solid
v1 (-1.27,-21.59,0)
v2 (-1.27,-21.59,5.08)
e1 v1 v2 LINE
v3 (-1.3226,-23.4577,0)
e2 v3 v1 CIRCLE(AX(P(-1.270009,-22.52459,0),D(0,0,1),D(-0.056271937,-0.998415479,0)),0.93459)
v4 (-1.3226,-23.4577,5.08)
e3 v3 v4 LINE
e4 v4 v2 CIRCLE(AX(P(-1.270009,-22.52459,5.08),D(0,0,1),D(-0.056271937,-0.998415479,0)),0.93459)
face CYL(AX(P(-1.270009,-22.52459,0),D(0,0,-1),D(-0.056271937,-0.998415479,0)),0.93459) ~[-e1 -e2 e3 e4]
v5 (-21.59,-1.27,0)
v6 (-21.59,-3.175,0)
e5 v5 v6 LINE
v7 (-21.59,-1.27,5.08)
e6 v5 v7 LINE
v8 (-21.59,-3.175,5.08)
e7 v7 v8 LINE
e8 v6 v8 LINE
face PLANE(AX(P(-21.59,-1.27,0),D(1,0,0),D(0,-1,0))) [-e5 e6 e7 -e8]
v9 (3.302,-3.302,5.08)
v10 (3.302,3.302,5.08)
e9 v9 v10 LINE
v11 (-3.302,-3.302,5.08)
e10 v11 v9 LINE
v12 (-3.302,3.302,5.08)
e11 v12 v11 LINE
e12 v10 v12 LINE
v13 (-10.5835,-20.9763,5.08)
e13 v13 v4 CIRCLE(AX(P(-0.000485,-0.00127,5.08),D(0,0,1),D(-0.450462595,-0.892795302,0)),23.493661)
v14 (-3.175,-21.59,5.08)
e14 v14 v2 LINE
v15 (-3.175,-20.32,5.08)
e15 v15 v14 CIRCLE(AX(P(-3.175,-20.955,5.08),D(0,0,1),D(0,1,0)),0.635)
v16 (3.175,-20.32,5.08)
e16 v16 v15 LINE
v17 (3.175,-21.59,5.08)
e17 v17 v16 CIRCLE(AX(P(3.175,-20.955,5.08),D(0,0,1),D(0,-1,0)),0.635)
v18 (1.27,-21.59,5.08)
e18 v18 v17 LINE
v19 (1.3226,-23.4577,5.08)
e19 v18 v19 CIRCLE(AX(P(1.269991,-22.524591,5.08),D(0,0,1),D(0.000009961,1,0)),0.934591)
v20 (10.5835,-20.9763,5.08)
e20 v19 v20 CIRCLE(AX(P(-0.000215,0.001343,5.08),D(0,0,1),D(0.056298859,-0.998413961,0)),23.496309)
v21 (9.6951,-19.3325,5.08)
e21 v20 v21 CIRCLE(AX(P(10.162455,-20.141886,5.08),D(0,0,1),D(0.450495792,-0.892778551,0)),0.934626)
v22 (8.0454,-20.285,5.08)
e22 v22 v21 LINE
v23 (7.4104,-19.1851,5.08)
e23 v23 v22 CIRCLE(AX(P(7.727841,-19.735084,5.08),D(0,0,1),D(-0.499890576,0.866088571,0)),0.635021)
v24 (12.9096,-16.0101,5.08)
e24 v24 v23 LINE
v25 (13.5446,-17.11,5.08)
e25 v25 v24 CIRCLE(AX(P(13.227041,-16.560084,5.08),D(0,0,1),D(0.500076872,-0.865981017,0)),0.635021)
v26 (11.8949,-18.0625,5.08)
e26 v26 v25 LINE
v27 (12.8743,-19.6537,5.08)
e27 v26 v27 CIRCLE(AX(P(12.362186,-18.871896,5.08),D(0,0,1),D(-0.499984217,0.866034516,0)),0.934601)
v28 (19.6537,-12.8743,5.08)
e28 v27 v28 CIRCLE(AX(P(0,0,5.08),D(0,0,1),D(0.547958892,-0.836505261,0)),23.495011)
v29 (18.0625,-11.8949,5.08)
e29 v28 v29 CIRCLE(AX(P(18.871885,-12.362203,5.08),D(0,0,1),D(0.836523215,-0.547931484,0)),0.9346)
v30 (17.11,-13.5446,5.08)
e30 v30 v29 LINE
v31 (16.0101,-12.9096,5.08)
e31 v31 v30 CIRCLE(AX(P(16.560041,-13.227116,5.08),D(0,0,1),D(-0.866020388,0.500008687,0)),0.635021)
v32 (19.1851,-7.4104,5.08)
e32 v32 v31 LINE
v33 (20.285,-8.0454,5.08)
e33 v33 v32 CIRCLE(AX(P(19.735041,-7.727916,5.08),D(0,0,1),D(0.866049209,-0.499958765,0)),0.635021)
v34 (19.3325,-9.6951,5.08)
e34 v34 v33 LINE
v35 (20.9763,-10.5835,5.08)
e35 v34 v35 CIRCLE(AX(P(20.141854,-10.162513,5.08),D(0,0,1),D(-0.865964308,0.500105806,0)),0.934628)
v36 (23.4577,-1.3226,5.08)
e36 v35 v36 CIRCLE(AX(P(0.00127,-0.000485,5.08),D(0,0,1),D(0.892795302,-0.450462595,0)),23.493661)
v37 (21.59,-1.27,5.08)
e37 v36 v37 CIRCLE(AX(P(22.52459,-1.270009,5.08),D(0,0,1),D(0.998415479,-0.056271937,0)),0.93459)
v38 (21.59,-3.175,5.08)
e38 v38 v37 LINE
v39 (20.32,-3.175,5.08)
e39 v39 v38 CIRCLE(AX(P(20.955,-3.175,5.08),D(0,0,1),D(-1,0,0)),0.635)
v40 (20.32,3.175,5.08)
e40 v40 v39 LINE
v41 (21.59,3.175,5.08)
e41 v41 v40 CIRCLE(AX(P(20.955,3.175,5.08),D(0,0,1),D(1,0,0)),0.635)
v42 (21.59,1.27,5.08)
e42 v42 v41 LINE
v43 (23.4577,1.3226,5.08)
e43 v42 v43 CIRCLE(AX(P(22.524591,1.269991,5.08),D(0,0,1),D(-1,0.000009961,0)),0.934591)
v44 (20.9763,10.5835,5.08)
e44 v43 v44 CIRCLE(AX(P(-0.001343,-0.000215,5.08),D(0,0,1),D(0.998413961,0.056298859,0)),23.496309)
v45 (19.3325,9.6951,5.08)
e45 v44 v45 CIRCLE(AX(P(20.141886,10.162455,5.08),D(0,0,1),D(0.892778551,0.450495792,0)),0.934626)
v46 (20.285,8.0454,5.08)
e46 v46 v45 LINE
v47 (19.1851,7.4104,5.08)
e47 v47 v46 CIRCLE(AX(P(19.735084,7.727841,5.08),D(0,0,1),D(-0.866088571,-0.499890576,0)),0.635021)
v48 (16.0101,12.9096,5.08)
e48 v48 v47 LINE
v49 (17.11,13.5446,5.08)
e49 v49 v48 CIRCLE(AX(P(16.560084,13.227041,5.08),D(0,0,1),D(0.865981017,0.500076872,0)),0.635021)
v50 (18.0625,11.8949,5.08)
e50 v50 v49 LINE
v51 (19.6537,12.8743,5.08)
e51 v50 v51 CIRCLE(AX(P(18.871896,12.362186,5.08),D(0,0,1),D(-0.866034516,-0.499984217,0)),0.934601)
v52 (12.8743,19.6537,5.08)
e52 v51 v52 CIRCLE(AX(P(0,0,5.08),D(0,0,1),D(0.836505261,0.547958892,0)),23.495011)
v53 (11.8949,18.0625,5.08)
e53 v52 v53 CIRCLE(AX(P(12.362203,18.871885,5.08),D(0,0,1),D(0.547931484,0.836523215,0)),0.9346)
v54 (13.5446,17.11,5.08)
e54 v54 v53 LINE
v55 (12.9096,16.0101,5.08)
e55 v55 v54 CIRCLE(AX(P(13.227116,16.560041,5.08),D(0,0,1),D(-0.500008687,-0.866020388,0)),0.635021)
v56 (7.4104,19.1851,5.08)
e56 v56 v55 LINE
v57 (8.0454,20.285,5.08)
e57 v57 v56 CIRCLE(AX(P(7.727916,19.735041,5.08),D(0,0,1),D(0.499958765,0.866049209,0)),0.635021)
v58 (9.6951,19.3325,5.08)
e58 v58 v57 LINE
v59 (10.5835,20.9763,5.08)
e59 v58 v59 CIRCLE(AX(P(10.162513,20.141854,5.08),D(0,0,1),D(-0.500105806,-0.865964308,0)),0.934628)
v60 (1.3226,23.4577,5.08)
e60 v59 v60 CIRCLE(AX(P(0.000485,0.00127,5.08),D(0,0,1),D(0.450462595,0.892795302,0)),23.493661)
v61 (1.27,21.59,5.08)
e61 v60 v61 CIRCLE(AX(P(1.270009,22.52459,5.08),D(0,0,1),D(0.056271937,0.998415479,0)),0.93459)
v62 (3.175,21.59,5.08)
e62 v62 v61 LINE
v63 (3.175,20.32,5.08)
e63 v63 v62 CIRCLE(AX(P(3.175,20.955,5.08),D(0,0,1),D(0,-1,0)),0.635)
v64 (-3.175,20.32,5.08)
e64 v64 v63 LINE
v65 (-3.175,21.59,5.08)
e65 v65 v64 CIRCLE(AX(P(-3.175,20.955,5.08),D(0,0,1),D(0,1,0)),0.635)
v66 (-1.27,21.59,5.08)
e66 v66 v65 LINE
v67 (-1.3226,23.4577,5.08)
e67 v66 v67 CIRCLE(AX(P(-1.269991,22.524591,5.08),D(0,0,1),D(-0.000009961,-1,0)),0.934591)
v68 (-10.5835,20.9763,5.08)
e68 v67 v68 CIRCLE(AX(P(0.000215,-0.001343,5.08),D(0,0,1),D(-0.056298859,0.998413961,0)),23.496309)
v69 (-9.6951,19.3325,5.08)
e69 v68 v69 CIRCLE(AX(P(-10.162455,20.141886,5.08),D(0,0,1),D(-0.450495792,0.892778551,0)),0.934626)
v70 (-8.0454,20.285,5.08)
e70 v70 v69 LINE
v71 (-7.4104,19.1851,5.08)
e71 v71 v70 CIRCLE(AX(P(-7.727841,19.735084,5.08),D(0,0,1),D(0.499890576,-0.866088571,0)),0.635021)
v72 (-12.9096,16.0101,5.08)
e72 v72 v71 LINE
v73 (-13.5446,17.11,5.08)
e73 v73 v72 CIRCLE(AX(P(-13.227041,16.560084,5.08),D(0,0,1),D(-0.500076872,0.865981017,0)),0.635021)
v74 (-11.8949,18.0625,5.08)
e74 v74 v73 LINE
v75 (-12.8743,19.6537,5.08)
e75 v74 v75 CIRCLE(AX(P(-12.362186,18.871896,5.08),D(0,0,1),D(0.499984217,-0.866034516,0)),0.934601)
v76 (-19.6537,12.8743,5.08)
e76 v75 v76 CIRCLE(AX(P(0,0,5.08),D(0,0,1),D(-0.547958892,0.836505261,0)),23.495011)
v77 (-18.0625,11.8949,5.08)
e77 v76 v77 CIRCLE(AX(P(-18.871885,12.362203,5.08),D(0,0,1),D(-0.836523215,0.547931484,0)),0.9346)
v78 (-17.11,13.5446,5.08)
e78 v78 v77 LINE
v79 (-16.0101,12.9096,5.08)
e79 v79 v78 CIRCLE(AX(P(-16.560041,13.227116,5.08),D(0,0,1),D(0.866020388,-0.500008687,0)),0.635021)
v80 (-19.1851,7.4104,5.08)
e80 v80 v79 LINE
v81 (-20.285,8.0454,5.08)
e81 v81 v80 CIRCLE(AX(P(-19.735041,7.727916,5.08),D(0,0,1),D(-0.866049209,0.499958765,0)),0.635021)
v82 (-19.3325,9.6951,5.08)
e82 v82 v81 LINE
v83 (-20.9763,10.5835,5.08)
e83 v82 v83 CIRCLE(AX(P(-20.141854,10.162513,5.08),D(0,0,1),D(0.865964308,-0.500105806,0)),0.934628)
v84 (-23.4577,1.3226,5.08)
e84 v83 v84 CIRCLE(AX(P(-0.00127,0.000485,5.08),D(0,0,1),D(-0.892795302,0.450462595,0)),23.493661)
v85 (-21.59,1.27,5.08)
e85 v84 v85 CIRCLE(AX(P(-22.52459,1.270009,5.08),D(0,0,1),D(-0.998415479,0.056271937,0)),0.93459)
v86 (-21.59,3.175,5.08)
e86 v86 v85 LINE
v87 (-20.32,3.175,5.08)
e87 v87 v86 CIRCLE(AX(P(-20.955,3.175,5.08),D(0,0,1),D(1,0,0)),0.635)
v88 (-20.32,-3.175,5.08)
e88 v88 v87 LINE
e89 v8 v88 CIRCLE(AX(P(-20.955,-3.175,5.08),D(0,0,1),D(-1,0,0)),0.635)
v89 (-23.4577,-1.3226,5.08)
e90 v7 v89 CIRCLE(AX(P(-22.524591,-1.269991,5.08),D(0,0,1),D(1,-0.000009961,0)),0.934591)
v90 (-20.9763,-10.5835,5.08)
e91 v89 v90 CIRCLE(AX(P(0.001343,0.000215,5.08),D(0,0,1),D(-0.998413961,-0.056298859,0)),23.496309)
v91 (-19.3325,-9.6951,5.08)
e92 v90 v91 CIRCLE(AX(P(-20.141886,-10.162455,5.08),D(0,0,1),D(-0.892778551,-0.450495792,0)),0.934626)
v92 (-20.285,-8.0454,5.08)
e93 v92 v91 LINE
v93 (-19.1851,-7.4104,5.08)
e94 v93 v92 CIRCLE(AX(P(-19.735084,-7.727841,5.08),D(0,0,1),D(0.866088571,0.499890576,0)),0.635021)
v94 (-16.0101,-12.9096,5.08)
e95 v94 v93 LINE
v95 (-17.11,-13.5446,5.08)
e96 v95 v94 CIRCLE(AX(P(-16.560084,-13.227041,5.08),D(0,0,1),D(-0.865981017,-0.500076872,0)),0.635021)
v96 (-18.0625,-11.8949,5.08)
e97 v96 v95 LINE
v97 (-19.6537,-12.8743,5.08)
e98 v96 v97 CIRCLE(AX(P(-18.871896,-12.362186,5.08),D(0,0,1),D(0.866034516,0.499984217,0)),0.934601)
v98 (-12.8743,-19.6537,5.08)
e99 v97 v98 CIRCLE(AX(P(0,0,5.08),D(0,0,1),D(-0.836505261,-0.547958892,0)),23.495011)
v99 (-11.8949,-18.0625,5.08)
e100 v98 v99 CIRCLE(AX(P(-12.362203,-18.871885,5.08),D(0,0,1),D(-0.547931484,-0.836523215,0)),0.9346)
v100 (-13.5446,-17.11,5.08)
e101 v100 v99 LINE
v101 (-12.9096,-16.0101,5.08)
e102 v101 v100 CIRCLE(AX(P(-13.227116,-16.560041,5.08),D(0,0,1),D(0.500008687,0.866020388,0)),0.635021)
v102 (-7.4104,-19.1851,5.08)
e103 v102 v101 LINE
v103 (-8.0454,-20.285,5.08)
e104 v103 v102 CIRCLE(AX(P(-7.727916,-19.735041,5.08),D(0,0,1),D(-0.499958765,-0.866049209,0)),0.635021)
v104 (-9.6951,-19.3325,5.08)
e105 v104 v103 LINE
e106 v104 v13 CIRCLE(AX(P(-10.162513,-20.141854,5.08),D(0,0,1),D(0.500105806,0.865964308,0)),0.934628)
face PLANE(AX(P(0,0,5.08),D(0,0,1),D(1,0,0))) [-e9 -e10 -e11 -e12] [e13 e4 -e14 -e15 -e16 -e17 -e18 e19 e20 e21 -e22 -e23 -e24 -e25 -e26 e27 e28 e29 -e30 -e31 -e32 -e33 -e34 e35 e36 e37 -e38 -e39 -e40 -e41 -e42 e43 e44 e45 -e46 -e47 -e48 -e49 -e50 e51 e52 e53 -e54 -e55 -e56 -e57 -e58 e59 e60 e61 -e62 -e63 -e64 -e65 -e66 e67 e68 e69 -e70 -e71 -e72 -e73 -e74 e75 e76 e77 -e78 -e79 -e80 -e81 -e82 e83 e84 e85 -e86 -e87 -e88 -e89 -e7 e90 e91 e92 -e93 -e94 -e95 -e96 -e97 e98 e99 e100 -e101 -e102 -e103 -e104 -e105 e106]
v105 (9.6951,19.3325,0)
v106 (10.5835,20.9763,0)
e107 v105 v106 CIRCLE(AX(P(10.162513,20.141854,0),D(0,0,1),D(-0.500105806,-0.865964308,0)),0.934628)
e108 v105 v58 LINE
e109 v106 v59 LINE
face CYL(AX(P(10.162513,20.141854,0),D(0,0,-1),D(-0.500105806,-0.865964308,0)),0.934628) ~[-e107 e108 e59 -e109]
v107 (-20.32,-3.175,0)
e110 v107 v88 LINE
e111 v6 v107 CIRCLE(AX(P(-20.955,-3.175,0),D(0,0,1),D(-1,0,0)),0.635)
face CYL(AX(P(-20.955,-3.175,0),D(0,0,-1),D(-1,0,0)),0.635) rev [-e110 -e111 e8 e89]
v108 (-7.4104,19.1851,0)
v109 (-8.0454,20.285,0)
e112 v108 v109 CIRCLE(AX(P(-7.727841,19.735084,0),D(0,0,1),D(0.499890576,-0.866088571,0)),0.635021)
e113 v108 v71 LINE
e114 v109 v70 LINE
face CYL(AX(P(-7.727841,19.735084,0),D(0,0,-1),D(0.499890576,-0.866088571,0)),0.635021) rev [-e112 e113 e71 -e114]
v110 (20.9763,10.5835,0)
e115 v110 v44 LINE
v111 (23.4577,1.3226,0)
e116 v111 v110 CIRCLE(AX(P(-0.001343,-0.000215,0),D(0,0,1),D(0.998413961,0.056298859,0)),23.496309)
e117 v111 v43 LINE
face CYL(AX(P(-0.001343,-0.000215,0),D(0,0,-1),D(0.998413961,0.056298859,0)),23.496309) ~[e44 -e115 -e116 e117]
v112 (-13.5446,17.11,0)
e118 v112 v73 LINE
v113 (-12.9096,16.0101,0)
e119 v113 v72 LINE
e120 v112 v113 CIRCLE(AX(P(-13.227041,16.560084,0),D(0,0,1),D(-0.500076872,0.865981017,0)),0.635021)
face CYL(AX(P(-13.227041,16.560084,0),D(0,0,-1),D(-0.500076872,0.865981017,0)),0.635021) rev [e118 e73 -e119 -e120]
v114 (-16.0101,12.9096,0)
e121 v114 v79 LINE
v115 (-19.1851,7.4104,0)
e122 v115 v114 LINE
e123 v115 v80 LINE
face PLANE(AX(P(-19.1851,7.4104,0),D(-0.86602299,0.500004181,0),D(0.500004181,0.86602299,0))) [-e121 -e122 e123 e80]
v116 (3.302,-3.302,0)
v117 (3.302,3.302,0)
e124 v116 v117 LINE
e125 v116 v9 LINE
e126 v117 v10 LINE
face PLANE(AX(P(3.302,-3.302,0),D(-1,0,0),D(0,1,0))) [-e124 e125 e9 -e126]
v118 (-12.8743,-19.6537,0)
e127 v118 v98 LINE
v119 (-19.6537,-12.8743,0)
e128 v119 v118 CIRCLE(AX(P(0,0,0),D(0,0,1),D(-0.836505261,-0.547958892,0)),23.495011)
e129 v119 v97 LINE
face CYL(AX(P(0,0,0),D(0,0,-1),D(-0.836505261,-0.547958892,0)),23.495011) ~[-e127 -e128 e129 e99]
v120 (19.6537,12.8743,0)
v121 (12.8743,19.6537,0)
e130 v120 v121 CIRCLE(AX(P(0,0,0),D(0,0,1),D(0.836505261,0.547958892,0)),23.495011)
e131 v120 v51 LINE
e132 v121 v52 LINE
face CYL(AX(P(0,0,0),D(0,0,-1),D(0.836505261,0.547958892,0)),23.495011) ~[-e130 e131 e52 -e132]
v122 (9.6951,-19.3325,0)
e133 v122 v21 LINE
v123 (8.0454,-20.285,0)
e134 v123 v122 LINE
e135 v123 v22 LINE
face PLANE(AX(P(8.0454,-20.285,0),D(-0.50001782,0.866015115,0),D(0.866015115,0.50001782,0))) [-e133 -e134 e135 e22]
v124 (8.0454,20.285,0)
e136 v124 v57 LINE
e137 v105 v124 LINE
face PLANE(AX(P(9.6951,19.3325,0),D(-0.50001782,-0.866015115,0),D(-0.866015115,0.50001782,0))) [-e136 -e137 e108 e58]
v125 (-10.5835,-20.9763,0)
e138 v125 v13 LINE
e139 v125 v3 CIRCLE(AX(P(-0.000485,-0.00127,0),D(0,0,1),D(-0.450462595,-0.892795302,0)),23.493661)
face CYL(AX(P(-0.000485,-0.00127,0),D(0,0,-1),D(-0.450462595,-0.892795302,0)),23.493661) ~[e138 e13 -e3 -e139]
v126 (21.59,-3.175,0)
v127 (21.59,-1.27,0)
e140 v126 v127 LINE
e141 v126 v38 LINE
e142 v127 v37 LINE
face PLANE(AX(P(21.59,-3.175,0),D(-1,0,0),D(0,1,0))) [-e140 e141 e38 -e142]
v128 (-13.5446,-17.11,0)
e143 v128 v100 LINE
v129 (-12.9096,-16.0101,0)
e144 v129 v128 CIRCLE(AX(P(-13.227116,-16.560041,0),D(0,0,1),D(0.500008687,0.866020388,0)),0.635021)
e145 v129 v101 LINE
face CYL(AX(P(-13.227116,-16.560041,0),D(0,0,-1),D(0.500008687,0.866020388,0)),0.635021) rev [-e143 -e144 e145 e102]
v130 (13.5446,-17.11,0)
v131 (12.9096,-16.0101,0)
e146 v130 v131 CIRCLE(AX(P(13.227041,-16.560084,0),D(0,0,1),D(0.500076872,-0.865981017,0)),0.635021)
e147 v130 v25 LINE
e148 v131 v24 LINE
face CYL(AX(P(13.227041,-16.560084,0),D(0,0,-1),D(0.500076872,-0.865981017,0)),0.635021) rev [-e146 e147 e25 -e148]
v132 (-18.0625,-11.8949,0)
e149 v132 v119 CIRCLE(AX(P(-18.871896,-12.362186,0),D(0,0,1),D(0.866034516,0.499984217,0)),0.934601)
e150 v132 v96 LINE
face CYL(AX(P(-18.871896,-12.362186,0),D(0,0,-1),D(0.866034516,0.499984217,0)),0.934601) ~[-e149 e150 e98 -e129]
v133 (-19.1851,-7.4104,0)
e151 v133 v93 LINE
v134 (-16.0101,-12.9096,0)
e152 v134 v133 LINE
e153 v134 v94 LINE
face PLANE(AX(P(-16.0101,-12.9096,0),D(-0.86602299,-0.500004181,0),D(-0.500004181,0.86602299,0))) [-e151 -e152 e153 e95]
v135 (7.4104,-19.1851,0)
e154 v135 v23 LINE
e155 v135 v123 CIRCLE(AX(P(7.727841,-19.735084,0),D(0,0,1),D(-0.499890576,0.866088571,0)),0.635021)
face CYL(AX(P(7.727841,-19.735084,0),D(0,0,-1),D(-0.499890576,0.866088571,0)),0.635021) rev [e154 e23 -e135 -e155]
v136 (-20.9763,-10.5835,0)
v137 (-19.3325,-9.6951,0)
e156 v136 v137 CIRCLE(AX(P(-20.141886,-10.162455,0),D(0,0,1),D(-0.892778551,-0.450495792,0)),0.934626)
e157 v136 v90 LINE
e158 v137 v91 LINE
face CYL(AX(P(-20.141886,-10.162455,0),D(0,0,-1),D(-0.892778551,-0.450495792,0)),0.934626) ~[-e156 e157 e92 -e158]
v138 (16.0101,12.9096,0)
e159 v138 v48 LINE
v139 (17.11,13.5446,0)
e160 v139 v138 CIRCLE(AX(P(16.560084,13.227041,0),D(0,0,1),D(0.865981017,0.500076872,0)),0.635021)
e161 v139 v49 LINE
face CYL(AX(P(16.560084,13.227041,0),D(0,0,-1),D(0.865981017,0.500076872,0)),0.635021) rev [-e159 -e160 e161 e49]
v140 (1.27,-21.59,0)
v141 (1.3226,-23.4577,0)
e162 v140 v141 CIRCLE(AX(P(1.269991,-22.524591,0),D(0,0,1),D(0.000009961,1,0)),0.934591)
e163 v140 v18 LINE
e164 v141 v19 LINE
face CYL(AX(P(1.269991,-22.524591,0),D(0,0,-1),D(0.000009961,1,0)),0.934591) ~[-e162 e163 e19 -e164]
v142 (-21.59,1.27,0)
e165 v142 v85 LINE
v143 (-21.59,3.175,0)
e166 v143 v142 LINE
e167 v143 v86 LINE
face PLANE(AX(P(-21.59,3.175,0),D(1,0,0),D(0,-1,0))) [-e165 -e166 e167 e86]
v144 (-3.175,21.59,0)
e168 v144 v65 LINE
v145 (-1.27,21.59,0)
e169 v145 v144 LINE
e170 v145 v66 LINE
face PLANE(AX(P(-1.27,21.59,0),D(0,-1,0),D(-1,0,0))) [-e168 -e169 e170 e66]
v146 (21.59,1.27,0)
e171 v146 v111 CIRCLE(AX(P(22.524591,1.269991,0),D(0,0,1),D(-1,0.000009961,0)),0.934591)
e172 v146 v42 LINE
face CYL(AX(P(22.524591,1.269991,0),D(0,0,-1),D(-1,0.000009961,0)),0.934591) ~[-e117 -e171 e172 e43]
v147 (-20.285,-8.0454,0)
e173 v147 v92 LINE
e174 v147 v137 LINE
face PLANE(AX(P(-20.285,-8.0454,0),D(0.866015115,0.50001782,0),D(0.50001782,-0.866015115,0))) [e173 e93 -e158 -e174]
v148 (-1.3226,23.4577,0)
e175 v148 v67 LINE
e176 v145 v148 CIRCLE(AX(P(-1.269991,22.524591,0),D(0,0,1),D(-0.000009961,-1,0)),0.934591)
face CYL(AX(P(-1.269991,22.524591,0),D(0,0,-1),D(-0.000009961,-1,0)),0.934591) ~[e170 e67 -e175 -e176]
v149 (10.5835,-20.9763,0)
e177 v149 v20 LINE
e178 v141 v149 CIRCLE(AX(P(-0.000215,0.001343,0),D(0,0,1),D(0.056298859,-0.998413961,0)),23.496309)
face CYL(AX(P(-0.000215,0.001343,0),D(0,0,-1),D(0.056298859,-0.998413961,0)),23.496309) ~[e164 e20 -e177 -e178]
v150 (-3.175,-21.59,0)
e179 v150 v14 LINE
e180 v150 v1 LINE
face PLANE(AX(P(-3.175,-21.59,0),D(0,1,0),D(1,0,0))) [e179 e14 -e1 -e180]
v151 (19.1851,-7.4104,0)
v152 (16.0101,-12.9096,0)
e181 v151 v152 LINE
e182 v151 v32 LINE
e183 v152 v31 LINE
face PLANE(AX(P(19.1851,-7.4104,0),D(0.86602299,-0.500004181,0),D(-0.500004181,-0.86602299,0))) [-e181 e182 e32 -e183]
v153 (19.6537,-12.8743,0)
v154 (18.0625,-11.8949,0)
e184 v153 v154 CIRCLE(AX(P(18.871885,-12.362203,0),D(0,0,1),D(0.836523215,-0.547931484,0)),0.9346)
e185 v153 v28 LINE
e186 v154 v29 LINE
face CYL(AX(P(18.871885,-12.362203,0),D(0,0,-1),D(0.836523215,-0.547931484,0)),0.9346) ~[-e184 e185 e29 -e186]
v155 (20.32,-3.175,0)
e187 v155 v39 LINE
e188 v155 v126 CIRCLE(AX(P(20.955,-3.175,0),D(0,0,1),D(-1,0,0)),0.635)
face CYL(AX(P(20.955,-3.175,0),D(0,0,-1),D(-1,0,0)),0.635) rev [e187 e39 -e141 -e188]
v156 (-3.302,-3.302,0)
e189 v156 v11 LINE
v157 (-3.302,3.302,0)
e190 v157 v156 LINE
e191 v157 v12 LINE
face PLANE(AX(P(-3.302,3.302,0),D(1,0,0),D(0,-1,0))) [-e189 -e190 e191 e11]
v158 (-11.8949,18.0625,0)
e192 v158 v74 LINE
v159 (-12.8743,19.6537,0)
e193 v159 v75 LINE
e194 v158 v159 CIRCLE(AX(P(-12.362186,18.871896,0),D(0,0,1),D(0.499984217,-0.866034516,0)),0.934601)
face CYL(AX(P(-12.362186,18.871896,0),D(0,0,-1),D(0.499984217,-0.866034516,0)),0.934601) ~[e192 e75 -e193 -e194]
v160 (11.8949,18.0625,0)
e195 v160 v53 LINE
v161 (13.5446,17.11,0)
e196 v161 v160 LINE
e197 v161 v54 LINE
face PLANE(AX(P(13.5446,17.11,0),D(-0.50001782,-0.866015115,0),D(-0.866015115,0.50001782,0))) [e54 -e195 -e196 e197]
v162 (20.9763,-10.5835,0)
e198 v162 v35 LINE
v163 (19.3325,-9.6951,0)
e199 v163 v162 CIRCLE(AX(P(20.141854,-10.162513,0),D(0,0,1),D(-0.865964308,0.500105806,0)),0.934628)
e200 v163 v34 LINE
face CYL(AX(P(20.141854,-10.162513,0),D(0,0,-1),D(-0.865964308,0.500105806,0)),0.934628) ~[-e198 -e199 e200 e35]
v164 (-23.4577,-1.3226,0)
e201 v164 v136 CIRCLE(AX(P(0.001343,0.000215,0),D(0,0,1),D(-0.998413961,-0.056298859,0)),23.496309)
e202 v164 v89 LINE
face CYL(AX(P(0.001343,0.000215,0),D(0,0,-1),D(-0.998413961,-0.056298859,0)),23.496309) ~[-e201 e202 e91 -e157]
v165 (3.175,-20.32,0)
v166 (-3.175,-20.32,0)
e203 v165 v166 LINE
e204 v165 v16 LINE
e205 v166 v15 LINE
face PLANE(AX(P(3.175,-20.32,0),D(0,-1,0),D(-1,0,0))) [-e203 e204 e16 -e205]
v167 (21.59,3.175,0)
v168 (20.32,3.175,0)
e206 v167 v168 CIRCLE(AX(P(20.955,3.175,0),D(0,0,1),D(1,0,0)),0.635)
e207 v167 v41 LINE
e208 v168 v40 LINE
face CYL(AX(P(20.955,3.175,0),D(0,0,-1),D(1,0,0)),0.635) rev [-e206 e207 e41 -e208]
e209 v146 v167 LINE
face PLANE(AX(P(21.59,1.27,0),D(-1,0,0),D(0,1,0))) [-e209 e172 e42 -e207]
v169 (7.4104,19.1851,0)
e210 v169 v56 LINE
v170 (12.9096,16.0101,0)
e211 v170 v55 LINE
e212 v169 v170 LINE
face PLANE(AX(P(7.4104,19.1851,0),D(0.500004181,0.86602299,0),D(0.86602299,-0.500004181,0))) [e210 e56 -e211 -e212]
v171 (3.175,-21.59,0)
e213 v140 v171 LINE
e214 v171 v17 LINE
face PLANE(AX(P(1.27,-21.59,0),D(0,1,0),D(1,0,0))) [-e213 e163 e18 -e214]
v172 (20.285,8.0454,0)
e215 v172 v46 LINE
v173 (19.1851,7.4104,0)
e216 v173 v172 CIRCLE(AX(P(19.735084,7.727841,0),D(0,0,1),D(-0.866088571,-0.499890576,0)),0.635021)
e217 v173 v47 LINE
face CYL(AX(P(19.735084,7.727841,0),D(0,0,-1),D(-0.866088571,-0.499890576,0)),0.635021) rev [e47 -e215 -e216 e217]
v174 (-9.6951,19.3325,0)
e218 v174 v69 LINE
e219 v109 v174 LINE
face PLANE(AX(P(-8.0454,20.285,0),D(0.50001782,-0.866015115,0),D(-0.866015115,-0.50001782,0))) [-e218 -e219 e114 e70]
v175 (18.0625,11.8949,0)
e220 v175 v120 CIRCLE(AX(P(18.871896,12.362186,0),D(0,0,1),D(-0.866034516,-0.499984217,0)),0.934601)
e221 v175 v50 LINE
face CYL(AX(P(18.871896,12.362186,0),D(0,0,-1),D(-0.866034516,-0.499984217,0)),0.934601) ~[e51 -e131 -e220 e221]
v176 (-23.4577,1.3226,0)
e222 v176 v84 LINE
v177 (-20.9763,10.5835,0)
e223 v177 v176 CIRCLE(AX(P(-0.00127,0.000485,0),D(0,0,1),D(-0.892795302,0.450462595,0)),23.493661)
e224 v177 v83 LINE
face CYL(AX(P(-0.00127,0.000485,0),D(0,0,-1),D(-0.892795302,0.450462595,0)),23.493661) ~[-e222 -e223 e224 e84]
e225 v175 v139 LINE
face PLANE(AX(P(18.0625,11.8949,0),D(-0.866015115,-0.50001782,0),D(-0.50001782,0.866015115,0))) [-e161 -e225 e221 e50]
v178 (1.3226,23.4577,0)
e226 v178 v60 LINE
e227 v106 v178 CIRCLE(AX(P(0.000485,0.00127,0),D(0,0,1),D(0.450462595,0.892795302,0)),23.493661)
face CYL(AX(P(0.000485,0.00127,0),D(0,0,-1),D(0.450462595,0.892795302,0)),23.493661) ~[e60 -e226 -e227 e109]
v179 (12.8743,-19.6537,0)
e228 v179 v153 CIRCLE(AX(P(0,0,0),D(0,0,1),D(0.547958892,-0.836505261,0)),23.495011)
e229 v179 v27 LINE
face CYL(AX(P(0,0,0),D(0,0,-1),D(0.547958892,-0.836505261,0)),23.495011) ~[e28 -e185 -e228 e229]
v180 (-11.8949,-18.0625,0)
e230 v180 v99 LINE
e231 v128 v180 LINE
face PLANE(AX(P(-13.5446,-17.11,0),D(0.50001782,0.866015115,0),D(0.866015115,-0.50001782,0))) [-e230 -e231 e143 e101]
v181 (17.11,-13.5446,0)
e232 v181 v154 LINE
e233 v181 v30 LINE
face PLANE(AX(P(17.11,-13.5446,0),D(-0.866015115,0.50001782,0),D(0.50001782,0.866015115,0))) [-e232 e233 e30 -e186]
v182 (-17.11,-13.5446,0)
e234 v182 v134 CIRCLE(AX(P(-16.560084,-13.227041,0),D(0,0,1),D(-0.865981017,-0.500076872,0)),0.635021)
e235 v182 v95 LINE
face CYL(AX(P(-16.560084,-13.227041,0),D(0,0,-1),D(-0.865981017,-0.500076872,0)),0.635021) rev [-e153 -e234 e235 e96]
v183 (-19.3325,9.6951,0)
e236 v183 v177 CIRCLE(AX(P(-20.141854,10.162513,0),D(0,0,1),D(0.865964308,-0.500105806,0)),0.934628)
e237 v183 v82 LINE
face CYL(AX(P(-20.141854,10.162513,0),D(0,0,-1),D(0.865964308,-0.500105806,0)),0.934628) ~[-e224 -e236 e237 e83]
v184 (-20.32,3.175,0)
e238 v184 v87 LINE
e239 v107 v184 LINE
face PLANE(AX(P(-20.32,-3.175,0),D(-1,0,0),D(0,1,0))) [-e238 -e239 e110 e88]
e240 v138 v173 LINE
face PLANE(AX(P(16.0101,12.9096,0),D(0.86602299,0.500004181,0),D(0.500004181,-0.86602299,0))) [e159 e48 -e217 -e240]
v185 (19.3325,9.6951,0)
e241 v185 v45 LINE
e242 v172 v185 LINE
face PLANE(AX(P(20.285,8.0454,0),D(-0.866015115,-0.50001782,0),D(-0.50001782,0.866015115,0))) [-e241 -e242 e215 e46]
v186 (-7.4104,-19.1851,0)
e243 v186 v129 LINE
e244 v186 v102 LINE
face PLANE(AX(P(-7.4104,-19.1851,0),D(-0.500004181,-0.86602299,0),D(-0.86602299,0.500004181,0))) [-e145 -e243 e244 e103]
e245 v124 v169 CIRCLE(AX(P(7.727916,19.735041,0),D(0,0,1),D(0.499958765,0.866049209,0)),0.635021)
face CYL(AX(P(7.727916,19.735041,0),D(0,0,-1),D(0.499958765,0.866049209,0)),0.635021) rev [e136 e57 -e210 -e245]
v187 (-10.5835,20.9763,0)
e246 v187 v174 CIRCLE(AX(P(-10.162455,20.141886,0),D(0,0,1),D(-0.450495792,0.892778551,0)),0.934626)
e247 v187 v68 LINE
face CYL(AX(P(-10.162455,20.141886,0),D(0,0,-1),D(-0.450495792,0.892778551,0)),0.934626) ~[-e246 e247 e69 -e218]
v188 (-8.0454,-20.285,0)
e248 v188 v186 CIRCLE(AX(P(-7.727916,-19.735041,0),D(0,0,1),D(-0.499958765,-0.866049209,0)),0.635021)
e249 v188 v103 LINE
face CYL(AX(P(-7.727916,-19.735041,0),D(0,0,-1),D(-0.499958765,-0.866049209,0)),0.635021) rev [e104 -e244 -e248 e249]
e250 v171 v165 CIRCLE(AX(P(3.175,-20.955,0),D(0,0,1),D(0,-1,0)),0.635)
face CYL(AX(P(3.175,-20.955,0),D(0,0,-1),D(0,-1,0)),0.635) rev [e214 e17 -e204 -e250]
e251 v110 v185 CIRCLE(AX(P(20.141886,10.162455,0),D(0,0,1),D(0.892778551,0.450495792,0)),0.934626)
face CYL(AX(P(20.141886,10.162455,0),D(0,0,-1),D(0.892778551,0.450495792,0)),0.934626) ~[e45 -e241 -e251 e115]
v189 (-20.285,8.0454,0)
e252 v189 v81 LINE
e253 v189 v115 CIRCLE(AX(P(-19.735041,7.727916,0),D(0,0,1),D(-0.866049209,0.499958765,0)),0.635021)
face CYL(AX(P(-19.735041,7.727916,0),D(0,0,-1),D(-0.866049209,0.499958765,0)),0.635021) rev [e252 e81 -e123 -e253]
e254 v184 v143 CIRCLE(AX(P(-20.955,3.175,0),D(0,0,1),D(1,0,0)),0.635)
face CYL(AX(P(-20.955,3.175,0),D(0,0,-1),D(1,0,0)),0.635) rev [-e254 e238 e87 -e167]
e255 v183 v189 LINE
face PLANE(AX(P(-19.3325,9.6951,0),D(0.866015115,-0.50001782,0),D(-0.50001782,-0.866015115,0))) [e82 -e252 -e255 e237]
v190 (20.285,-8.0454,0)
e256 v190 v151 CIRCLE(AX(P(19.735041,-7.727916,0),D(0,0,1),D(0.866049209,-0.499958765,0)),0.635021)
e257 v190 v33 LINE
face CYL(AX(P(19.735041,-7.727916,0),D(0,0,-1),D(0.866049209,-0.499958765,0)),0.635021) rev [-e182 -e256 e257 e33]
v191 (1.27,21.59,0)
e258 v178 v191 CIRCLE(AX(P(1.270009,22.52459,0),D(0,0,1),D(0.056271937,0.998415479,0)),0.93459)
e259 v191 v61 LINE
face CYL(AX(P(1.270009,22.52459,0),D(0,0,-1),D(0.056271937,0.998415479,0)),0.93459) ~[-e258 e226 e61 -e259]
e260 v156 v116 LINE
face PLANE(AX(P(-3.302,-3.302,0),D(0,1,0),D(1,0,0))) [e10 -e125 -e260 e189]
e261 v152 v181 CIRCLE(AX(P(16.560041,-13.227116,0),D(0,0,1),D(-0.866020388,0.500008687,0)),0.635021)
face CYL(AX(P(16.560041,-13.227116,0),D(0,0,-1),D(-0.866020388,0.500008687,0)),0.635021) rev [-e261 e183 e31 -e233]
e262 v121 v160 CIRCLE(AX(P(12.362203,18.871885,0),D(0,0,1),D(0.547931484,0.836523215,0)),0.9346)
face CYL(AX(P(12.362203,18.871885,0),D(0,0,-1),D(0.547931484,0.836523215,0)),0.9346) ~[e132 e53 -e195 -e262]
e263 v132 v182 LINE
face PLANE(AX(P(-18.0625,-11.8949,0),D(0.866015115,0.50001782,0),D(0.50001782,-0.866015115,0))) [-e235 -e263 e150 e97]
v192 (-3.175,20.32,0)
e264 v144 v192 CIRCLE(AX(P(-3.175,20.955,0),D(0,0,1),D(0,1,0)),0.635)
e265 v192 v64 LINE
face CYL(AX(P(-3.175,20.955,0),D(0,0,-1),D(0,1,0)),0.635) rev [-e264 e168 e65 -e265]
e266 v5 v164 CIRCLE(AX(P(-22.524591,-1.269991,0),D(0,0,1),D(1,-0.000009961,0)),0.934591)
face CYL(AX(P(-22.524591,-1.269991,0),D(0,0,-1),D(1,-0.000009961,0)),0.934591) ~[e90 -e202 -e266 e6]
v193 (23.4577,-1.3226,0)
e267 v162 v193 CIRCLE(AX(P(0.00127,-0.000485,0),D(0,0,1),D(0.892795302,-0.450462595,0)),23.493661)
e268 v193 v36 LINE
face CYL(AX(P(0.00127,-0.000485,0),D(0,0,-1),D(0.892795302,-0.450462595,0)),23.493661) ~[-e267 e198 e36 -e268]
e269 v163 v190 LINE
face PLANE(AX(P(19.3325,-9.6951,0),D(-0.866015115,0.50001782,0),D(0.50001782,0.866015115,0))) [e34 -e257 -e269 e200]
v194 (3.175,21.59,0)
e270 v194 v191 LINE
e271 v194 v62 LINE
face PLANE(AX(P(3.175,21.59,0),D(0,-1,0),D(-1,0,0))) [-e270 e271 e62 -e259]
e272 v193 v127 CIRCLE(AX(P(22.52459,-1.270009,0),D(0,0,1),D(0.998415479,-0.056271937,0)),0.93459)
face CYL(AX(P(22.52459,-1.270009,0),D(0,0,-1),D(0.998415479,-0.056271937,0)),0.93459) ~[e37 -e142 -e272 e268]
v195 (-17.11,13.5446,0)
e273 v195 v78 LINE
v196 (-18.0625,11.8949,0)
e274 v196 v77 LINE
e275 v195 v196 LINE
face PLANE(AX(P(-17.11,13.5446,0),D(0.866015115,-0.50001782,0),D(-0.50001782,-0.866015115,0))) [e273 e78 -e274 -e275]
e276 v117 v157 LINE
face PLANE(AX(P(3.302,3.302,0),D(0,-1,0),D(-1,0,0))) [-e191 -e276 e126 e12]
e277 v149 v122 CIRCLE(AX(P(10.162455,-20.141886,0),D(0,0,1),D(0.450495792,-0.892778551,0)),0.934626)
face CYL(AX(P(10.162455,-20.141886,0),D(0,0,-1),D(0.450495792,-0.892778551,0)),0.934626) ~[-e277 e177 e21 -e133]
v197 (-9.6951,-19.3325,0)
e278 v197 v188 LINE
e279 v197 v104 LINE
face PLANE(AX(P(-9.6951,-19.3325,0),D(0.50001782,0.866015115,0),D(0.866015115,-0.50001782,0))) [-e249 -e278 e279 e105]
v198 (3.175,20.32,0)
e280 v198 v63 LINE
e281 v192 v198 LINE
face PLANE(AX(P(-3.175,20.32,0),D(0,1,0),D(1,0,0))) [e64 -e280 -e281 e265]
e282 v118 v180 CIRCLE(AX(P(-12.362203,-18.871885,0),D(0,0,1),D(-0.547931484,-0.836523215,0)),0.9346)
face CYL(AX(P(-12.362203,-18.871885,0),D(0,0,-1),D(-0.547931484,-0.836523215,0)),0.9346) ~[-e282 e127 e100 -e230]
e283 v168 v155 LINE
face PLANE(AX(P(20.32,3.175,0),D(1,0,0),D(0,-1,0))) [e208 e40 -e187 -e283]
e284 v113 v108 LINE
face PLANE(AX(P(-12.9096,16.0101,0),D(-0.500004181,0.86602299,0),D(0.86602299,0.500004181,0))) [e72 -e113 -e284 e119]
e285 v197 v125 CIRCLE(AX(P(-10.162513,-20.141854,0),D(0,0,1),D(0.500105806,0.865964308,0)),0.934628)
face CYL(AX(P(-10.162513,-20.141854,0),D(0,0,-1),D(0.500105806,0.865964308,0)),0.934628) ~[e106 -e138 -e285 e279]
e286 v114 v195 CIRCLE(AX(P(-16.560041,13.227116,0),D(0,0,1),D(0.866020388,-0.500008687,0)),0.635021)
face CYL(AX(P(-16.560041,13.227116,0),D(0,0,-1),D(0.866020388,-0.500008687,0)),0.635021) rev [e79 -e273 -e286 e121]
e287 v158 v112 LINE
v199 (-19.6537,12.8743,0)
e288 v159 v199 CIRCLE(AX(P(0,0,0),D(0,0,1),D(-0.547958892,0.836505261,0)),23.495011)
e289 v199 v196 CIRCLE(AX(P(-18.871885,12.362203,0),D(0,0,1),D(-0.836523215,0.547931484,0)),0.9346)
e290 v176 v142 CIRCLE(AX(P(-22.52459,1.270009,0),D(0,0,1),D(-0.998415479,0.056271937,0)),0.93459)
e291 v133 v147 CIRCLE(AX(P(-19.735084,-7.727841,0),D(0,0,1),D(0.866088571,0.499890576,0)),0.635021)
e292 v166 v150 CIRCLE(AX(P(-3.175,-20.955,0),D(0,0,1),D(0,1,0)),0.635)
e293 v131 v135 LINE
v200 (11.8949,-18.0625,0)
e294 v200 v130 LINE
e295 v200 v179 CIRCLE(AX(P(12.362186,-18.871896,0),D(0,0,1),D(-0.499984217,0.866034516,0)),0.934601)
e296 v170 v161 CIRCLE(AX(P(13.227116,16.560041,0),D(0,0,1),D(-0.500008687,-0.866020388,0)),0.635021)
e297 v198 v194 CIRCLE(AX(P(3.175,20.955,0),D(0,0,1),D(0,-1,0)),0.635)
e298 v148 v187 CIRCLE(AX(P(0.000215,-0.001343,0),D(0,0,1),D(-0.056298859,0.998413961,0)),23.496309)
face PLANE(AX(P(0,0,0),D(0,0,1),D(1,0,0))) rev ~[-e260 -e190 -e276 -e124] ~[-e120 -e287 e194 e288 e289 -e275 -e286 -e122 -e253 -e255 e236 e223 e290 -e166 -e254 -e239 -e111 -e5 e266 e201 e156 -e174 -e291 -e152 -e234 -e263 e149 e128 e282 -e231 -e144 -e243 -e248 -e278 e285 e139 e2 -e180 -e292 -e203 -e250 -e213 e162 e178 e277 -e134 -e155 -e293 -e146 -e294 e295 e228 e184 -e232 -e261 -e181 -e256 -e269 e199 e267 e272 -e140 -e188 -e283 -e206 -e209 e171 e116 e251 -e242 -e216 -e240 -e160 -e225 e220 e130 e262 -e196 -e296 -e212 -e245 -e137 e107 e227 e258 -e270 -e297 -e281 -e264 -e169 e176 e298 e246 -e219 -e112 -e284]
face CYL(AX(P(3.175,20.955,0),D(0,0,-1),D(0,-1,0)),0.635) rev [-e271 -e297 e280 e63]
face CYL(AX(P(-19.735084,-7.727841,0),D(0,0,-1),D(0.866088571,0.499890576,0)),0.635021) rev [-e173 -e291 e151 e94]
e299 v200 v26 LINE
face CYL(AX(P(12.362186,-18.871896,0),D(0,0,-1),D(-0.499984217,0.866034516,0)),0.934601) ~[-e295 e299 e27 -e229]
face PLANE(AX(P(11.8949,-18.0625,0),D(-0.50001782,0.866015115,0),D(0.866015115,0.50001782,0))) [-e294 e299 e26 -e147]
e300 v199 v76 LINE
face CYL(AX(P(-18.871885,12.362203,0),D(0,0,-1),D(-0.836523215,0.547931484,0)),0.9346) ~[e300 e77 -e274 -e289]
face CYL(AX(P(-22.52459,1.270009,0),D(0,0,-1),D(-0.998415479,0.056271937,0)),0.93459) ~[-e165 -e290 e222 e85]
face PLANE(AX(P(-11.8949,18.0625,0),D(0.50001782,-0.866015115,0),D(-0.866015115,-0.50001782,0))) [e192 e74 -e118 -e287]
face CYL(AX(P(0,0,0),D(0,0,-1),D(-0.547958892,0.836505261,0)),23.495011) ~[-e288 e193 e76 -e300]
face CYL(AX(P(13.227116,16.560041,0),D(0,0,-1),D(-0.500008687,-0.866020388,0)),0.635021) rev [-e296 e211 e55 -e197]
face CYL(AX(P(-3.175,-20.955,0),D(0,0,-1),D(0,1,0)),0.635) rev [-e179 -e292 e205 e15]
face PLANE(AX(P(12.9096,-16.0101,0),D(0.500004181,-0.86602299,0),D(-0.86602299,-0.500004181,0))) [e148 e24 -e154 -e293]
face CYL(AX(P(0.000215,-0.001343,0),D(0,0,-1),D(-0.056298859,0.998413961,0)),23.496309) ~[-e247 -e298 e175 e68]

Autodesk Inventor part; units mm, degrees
ref_plane "YZ Plane" through (0, 0, 0) normal (1, 0, 0) x (0, 1, 0)
ref_plane "XZ Plane" through (0, 0, 0) normal (0, 1, 0) x (-1, 0, 0)
ref_plane "XY Plane" through (0, 0, 0) normal (0, 0, 1) x (1, 0, 0)
sketch "Sketch1" plane through (0, 0, 0) normal (0, 0, 1) x (1, 0, 0)
  arc A0 (-1.3226, 23.4577) -> (-10.5835, 20.9763) centre (0, 0) ccw
  line L0 (-3.302, -3.302) -> (3.302, -3.302)
  line L1 (3.302, -3.302) -> (3.302, 3.302)
  line L2 (3.302, 3.302) -> (-3.302, 3.302)
  line L3 (-3.302, 3.302) -> (-3.302, -3.302)
  line L4 (-3.302, -3.302) -> (3.302, 3.302) construction
  line L5 (3.302, -3.302) -> (-3.302, 3.302) construction
  line L6 (0, 0) -> (0, 9.525) construction
  line L7 (-3.175, 20.955) -> (3.175, 20.955)
  line L8 (-3.175, 20.32) -> (3.175, 20.32)
  arc A1 (-3.175, 21.59) -> (-3.175, 20.32) centre (-3.175, 20.955) ccw
  arc A2 (3.175, 20.32) -> (3.175, 21.59) centre (3.175, 20.955) ccw
  arc A3 (-1.27, 21.59) -> (-1.3226, 23.4577) centre (-1.27, 22.5246) ccw
  arc A4 (1.3226, 23.4577) -> (1.27, 21.59) centre (1.27, 22.5246) ccw
  line L9 (-1.27, 22.5246) -> (1.27, 22.5246) construction
  line L10 (3.175, 21.59) -> (1.27, 21.59)
  line L11 (-1.27, 21.59) -> (-3.175, 21.59)
  arc A5 (-13.5446, 17.11) -> (-12.9096, 16.0101) centre (-13.2271, 16.5601) ccw
  line L12 (-12.9096, 16.0101) -> (-7.4104, 19.1851)
  arc A6 (-7.4104, 19.1851) -> (-8.0454, 20.285) centre (-7.7279, 19.7351) ccw
  arc A7 (-10.5835, 20.9763) -> (-9.6951, 19.3325) centre (-10.1625, 20.1419) ccw
  line L13 (-8.0454, 20.285) -> (-9.6951, 19.3325)
  line L14 (-11.8949, 18.0625) -> (-13.5446, 17.11)
  arc A8 (-11.8949, 18.0625) -> (-12.8743, 19.6537) centre (-12.3622, 18.8719) ccw
  arc A9 (-20.285, 8.0454) -> (-19.1851, 7.4104) centre (-19.7351, 7.7279) ccw
  line L15 (-19.1851, 7.4104) -> (-16.0101, 12.9096)
  arc A10 (-16.0101, 12.9096) -> (-17.11, 13.5446) centre (-16.5601, 13.2271) ccw
  arc A11 (-19.6537, 12.8743) -> (-18.0625, 11.8949) centre (-18.8719, 12.3622) ccw
  line L16 (-17.11, 13.5446) -> (-18.0625, 11.8949)
  line L17 (-19.3325, 9.6951) -> (-20.285, 8.0454)
  arc A12 (-19.3325, 9.6951) -> (-20.9763, 10.5835) centre (-20.1419, 10.1625) ccw
  arc A13 (-21.59, -3.175) -> (-20.32, -3.175) centre (-20.955, -3.175) ccw
  line L18 (-20.32, -3.175) -> (-20.32, 3.175)
  arc A14 (-20.32, 3.175) -> (-21.59, 3.175) centre (-20.955, 3.175) ccw
  arc A15 (-23.4577, 1.3226) -> (-21.59, 1.27) centre (-22.5246, 1.27) ccw
  line L19 (-21.59, 3.175) -> (-21.59, 1.27)
  line L20 (-21.59, -1.27) -> (-21.59, -3.175)
  arc A16 (-21.59, -1.27) -> (-23.4577, -1.3226) centre (-22.5246, -1.27) ccw
  arc A17 (-17.11, -13.5446) -> (-16.0101, -12.9096) centre (-16.5601, -13.2271) ccw
  line L21 (-16.0101, -12.9096) -> (-19.1851, -7.4104)
  arc A18 (-19.1851, -7.4104) -> (-20.285, -8.0454) centre (-19.7351, -7.7279) ccw
  arc A19 (-20.9763, -10.5835) -> (-19.3325, -9.6951) centre (-20.1419, -10.1625) ccw
  line L22 (-20.285, -8.0454) -> (-19.3325, -9.6951)
  line L23 (-18.0625, -11.8949) -> (-17.11, -13.5446)
  arc A20 (-18.0625, -11.8949) -> (-19.6537, -12.8743) centre (-18.8719, -12.3622) ccw
  arc A21 (-8.0454, -20.285) -> (-7.4104, -19.1851) centre (-7.7279, -19.7351) ccw
  line L24 (-7.4104, -19.1851) -> (-12.9096, -16.0101)
  arc A22 (-12.9096, -16.0101) -> (-13.5446, -17.11) centre (-13.2271, -16.5601) ccw
  arc A23 (-12.8743, -19.6537) -> (-11.8949, -18.0625) centre (-12.3622, -18.8719) ccw
  line L25 (-13.5446, -17.11) -> (-11.8949, -18.0625)
  line L26 (-9.6951, -19.3325) -> (-8.0454, -20.285)
  arc A24 (-9.6951, -19.3325) -> (-10.5835, -20.9763) centre (-10.1625, -20.1419) ccw
  arc A25 (3.175, -21.59) -> (3.175, -20.32) centre (3.175, -20.955) ccw
  line L27 (3.175, -20.32) -> (-3.175, -20.32)
  arc A26 (-3.175, -20.32) -> (-3.175, -21.59) centre (-3.175, -20.955) ccw
  arc A27 (-1.3226, -23.4577) -> (-1.27, -21.59) centre (-1.27, -22.5246) ccw
  line L28 (-3.175, -21.59) -> (-1.27, -21.59)
  line L29 (1.27, -21.59) -> (3.175, -21.59)
  arc A28 (1.27, -21.59) -> (1.3226, -23.4577) centre (1.27, -22.5246) ccw
  arc A29 (13.5446, -17.11) -> (12.9096, -16.0101) centre (13.2271, -16.5601) ccw
  line L30 (12.9096, -16.0101) -> (7.4104, -19.1851)
  arc A30 (7.4104, -19.1851) -> (8.0454, -20.285) centre (7.7279, -19.7351) ccw
  arc A31 (10.5835, -20.9763) -> (9.6951, -19.3325) centre (10.1625, -20.1419) ccw
  line L31 (8.0454, -20.285) -> (9.6951, -19.3325)
  line L32 (11.8949, -18.0625) -> (13.5446, -17.11)
  arc A32 (11.8949, -18.0625) -> (12.8743, -19.6537) centre (12.3622, -18.8719) ccw
  arc A33 (20.285, -8.0454) -> (19.1851, -7.4104) centre (19.7351, -7.7279) ccw
  line L33 (19.1851, -7.4104) -> (16.0101, -12.9096)
  arc A34 (16.0101, -12.9096) -> (17.11, -13.5446) centre (16.5601, -13.2271) ccw
  arc A35 (19.6537, -12.8743) -> (18.0625, -11.8949) centre (18.8719, -12.3622) ccw
  line L34 (17.11, -13.5446) -> (18.0625, -11.8949)
  line L35 (19.3325, -9.6951) -> (20.285, -8.0454)
  arc A36 (19.3325, -9.6951) -> (20.9763, -10.5835) centre (20.1419, -10.1625) ccw
  arc A37 (21.59, 3.175) -> (20.32, 3.175) centre (20.955, 3.175) ccw
  line L36 (20.32, 3.175) -> (20.32, -3.175)
  arc A38 (20.32, -3.175) -> (21.59, -3.175) centre (20.955, -3.175) ccw
  arc A39 (23.4577, -1.3226) -> (21.59, -1.27) centre (22.5246, -1.27) ccw
  line L37 (21.59, -3.175) -> (21.59, -1.27)
  line L38 (21.59, 1.27) -> (21.59, 3.175)
  arc A40 (21.59, 1.27) -> (23.4577, 1.3226) centre (22.5246, 1.27) ccw
  arc A41 (17.11, 13.5446) -> (16.0101, 12.9096) centre (16.5601, 13.2271) ccw
  line L39 (16.0101, 12.9096) -> (19.1851, 7.4104)
  arc A42 (19.1851, 7.4104) -> (20.285, 8.0454) centre (19.7351, 7.7279) ccw
  arc A43 (20.9763, 10.5835) -> (19.3325, 9.6951) centre (20.1419, 10.1625) ccw
  line L40 (20.285, 8.0454) -> (19.3325, 9.6951)
  line L41 (18.0625, 11.8949) -> (17.11, 13.5446)
  arc A44 (18.0625, 11.8949) -> (19.6537, 12.8743) centre (18.8719, 12.3622) ccw
  arc A45 (8.0454, 20.285) -> (7.4104, 19.1851) centre (7.7279, 19.7351) ccw
  line L42 (7.4104, 19.1851) -> (12.9096, 16.0101)
  arc A46 (12.9096, 16.0101) -> (13.5446, 17.11) centre (13.2271, 16.5601) ccw
  arc A47 (12.8743, 19.6537) -> (11.8949, 18.0625) centre (12.3622, 18.8719) ccw
  line L43 (13.5446, 17.11) -> (11.8949, 18.0625)
  line L44 (9.6951, 19.3325) -> (8.0454, 20.285)
  arc A48 (9.6951, 19.3325) -> (10.5835, 20.9763) centre (10.1625, 20.1419) ccw
  arc A49 (-12.8743, 19.6537) -> (-19.6537, 12.8743) centre (0, 0) ccw
  arc A50 (-10.5835, 20.9763) -> (-12.8743, 19.6537) centre (0, 0) ccw construction
  arc A51 (10.5835, 20.9763) -> (1.3226, 23.4577) centre (0, 0) ccw
  arc A52 (12.8743, 19.6537) -> (10.5835, 20.9763) centre (0, 0) ccw construction
  arc A53 (19.6537, 12.8743) -> (12.8743, 19.6537) centre (0, 0) ccw
  arc A54 (20.9763, 10.5835) -> (19.6537, 12.8743) centre (0, 0) ccw construction
  arc A55 (23.4577, 1.3226) -> (20.9763, 10.5835) centre (0, 0) ccw
  arc A56 (23.4577, -1.3226) -> (23.4577, 1.3226) centre (0, 0) ccw construction
  arc A57 (20.9763, -10.5835) -> (23.4577, -1.3226) centre (0, 0) ccw
  arc A58 (19.6537, -12.8743) -> (20.9763, -10.5835) centre (0, 0) ccw construction
  arc A59 (12.8743, -19.6537) -> (19.6537, -12.8743) centre (0, 0) ccw
  arc A60 (10.5835, -20.9763) -> (12.8743, -19.6537) centre (0, 0) ccw construction
  arc A61 (1.3226, -23.4577) -> (10.5835, -20.9763) centre (0, 0) ccw
  arc A62 (-1.3226, -23.4577) -> (1.3226, -23.4577) centre (0, 0) ccw construction
  arc A63 (-12.8743, -19.6537) -> (-10.5835, -20.9763) centre (0, 0) ccw construction
  arc A64 (-10.5835, -20.9763) -> (-1.3226, -23.4577) centre (0, 0) ccw
  arc A65 (-20.9763, -10.5835) -> (-19.6537, -12.8743) centre (0, 0) ccw construction
  arc A66 (-19.6537, -12.8743) -> (-12.8743, -19.6537) centre (0, 0) ccw
  arc A67 (-23.4577, -1.3226) -> (-20.9763, -10.5835) centre (0, 0) ccw
  arc A68 (-23.4577, 1.3226) -> (-23.4577, -1.3226) centre (0, 0) ccw construction
  arc A69 (-19.6537, 12.8743) -> (-20.9763, 10.5835) centre (0, 0) ccw construction
  arc A70 (-20.9763, 10.5835) -> (-23.4577, 1.3226) centre (0, 0) ccw
  point P0 (0, 20.955)
  dimension "d0" = 46.99
  dimension "d1" = 6.604
  dimension "d2" = 6.604
  dimension "d3" = 20.955
  dimension "d4" = 6.35
  dimension "d5" = 2.54
  dimension "d6" = 0.635
  dimension "d11" = 360
extrude "Extrusion1" add sketch "Sketch1" along normal blind 5.08
properties part number "Sprocket2" material "Plastic, Opaque Black"
